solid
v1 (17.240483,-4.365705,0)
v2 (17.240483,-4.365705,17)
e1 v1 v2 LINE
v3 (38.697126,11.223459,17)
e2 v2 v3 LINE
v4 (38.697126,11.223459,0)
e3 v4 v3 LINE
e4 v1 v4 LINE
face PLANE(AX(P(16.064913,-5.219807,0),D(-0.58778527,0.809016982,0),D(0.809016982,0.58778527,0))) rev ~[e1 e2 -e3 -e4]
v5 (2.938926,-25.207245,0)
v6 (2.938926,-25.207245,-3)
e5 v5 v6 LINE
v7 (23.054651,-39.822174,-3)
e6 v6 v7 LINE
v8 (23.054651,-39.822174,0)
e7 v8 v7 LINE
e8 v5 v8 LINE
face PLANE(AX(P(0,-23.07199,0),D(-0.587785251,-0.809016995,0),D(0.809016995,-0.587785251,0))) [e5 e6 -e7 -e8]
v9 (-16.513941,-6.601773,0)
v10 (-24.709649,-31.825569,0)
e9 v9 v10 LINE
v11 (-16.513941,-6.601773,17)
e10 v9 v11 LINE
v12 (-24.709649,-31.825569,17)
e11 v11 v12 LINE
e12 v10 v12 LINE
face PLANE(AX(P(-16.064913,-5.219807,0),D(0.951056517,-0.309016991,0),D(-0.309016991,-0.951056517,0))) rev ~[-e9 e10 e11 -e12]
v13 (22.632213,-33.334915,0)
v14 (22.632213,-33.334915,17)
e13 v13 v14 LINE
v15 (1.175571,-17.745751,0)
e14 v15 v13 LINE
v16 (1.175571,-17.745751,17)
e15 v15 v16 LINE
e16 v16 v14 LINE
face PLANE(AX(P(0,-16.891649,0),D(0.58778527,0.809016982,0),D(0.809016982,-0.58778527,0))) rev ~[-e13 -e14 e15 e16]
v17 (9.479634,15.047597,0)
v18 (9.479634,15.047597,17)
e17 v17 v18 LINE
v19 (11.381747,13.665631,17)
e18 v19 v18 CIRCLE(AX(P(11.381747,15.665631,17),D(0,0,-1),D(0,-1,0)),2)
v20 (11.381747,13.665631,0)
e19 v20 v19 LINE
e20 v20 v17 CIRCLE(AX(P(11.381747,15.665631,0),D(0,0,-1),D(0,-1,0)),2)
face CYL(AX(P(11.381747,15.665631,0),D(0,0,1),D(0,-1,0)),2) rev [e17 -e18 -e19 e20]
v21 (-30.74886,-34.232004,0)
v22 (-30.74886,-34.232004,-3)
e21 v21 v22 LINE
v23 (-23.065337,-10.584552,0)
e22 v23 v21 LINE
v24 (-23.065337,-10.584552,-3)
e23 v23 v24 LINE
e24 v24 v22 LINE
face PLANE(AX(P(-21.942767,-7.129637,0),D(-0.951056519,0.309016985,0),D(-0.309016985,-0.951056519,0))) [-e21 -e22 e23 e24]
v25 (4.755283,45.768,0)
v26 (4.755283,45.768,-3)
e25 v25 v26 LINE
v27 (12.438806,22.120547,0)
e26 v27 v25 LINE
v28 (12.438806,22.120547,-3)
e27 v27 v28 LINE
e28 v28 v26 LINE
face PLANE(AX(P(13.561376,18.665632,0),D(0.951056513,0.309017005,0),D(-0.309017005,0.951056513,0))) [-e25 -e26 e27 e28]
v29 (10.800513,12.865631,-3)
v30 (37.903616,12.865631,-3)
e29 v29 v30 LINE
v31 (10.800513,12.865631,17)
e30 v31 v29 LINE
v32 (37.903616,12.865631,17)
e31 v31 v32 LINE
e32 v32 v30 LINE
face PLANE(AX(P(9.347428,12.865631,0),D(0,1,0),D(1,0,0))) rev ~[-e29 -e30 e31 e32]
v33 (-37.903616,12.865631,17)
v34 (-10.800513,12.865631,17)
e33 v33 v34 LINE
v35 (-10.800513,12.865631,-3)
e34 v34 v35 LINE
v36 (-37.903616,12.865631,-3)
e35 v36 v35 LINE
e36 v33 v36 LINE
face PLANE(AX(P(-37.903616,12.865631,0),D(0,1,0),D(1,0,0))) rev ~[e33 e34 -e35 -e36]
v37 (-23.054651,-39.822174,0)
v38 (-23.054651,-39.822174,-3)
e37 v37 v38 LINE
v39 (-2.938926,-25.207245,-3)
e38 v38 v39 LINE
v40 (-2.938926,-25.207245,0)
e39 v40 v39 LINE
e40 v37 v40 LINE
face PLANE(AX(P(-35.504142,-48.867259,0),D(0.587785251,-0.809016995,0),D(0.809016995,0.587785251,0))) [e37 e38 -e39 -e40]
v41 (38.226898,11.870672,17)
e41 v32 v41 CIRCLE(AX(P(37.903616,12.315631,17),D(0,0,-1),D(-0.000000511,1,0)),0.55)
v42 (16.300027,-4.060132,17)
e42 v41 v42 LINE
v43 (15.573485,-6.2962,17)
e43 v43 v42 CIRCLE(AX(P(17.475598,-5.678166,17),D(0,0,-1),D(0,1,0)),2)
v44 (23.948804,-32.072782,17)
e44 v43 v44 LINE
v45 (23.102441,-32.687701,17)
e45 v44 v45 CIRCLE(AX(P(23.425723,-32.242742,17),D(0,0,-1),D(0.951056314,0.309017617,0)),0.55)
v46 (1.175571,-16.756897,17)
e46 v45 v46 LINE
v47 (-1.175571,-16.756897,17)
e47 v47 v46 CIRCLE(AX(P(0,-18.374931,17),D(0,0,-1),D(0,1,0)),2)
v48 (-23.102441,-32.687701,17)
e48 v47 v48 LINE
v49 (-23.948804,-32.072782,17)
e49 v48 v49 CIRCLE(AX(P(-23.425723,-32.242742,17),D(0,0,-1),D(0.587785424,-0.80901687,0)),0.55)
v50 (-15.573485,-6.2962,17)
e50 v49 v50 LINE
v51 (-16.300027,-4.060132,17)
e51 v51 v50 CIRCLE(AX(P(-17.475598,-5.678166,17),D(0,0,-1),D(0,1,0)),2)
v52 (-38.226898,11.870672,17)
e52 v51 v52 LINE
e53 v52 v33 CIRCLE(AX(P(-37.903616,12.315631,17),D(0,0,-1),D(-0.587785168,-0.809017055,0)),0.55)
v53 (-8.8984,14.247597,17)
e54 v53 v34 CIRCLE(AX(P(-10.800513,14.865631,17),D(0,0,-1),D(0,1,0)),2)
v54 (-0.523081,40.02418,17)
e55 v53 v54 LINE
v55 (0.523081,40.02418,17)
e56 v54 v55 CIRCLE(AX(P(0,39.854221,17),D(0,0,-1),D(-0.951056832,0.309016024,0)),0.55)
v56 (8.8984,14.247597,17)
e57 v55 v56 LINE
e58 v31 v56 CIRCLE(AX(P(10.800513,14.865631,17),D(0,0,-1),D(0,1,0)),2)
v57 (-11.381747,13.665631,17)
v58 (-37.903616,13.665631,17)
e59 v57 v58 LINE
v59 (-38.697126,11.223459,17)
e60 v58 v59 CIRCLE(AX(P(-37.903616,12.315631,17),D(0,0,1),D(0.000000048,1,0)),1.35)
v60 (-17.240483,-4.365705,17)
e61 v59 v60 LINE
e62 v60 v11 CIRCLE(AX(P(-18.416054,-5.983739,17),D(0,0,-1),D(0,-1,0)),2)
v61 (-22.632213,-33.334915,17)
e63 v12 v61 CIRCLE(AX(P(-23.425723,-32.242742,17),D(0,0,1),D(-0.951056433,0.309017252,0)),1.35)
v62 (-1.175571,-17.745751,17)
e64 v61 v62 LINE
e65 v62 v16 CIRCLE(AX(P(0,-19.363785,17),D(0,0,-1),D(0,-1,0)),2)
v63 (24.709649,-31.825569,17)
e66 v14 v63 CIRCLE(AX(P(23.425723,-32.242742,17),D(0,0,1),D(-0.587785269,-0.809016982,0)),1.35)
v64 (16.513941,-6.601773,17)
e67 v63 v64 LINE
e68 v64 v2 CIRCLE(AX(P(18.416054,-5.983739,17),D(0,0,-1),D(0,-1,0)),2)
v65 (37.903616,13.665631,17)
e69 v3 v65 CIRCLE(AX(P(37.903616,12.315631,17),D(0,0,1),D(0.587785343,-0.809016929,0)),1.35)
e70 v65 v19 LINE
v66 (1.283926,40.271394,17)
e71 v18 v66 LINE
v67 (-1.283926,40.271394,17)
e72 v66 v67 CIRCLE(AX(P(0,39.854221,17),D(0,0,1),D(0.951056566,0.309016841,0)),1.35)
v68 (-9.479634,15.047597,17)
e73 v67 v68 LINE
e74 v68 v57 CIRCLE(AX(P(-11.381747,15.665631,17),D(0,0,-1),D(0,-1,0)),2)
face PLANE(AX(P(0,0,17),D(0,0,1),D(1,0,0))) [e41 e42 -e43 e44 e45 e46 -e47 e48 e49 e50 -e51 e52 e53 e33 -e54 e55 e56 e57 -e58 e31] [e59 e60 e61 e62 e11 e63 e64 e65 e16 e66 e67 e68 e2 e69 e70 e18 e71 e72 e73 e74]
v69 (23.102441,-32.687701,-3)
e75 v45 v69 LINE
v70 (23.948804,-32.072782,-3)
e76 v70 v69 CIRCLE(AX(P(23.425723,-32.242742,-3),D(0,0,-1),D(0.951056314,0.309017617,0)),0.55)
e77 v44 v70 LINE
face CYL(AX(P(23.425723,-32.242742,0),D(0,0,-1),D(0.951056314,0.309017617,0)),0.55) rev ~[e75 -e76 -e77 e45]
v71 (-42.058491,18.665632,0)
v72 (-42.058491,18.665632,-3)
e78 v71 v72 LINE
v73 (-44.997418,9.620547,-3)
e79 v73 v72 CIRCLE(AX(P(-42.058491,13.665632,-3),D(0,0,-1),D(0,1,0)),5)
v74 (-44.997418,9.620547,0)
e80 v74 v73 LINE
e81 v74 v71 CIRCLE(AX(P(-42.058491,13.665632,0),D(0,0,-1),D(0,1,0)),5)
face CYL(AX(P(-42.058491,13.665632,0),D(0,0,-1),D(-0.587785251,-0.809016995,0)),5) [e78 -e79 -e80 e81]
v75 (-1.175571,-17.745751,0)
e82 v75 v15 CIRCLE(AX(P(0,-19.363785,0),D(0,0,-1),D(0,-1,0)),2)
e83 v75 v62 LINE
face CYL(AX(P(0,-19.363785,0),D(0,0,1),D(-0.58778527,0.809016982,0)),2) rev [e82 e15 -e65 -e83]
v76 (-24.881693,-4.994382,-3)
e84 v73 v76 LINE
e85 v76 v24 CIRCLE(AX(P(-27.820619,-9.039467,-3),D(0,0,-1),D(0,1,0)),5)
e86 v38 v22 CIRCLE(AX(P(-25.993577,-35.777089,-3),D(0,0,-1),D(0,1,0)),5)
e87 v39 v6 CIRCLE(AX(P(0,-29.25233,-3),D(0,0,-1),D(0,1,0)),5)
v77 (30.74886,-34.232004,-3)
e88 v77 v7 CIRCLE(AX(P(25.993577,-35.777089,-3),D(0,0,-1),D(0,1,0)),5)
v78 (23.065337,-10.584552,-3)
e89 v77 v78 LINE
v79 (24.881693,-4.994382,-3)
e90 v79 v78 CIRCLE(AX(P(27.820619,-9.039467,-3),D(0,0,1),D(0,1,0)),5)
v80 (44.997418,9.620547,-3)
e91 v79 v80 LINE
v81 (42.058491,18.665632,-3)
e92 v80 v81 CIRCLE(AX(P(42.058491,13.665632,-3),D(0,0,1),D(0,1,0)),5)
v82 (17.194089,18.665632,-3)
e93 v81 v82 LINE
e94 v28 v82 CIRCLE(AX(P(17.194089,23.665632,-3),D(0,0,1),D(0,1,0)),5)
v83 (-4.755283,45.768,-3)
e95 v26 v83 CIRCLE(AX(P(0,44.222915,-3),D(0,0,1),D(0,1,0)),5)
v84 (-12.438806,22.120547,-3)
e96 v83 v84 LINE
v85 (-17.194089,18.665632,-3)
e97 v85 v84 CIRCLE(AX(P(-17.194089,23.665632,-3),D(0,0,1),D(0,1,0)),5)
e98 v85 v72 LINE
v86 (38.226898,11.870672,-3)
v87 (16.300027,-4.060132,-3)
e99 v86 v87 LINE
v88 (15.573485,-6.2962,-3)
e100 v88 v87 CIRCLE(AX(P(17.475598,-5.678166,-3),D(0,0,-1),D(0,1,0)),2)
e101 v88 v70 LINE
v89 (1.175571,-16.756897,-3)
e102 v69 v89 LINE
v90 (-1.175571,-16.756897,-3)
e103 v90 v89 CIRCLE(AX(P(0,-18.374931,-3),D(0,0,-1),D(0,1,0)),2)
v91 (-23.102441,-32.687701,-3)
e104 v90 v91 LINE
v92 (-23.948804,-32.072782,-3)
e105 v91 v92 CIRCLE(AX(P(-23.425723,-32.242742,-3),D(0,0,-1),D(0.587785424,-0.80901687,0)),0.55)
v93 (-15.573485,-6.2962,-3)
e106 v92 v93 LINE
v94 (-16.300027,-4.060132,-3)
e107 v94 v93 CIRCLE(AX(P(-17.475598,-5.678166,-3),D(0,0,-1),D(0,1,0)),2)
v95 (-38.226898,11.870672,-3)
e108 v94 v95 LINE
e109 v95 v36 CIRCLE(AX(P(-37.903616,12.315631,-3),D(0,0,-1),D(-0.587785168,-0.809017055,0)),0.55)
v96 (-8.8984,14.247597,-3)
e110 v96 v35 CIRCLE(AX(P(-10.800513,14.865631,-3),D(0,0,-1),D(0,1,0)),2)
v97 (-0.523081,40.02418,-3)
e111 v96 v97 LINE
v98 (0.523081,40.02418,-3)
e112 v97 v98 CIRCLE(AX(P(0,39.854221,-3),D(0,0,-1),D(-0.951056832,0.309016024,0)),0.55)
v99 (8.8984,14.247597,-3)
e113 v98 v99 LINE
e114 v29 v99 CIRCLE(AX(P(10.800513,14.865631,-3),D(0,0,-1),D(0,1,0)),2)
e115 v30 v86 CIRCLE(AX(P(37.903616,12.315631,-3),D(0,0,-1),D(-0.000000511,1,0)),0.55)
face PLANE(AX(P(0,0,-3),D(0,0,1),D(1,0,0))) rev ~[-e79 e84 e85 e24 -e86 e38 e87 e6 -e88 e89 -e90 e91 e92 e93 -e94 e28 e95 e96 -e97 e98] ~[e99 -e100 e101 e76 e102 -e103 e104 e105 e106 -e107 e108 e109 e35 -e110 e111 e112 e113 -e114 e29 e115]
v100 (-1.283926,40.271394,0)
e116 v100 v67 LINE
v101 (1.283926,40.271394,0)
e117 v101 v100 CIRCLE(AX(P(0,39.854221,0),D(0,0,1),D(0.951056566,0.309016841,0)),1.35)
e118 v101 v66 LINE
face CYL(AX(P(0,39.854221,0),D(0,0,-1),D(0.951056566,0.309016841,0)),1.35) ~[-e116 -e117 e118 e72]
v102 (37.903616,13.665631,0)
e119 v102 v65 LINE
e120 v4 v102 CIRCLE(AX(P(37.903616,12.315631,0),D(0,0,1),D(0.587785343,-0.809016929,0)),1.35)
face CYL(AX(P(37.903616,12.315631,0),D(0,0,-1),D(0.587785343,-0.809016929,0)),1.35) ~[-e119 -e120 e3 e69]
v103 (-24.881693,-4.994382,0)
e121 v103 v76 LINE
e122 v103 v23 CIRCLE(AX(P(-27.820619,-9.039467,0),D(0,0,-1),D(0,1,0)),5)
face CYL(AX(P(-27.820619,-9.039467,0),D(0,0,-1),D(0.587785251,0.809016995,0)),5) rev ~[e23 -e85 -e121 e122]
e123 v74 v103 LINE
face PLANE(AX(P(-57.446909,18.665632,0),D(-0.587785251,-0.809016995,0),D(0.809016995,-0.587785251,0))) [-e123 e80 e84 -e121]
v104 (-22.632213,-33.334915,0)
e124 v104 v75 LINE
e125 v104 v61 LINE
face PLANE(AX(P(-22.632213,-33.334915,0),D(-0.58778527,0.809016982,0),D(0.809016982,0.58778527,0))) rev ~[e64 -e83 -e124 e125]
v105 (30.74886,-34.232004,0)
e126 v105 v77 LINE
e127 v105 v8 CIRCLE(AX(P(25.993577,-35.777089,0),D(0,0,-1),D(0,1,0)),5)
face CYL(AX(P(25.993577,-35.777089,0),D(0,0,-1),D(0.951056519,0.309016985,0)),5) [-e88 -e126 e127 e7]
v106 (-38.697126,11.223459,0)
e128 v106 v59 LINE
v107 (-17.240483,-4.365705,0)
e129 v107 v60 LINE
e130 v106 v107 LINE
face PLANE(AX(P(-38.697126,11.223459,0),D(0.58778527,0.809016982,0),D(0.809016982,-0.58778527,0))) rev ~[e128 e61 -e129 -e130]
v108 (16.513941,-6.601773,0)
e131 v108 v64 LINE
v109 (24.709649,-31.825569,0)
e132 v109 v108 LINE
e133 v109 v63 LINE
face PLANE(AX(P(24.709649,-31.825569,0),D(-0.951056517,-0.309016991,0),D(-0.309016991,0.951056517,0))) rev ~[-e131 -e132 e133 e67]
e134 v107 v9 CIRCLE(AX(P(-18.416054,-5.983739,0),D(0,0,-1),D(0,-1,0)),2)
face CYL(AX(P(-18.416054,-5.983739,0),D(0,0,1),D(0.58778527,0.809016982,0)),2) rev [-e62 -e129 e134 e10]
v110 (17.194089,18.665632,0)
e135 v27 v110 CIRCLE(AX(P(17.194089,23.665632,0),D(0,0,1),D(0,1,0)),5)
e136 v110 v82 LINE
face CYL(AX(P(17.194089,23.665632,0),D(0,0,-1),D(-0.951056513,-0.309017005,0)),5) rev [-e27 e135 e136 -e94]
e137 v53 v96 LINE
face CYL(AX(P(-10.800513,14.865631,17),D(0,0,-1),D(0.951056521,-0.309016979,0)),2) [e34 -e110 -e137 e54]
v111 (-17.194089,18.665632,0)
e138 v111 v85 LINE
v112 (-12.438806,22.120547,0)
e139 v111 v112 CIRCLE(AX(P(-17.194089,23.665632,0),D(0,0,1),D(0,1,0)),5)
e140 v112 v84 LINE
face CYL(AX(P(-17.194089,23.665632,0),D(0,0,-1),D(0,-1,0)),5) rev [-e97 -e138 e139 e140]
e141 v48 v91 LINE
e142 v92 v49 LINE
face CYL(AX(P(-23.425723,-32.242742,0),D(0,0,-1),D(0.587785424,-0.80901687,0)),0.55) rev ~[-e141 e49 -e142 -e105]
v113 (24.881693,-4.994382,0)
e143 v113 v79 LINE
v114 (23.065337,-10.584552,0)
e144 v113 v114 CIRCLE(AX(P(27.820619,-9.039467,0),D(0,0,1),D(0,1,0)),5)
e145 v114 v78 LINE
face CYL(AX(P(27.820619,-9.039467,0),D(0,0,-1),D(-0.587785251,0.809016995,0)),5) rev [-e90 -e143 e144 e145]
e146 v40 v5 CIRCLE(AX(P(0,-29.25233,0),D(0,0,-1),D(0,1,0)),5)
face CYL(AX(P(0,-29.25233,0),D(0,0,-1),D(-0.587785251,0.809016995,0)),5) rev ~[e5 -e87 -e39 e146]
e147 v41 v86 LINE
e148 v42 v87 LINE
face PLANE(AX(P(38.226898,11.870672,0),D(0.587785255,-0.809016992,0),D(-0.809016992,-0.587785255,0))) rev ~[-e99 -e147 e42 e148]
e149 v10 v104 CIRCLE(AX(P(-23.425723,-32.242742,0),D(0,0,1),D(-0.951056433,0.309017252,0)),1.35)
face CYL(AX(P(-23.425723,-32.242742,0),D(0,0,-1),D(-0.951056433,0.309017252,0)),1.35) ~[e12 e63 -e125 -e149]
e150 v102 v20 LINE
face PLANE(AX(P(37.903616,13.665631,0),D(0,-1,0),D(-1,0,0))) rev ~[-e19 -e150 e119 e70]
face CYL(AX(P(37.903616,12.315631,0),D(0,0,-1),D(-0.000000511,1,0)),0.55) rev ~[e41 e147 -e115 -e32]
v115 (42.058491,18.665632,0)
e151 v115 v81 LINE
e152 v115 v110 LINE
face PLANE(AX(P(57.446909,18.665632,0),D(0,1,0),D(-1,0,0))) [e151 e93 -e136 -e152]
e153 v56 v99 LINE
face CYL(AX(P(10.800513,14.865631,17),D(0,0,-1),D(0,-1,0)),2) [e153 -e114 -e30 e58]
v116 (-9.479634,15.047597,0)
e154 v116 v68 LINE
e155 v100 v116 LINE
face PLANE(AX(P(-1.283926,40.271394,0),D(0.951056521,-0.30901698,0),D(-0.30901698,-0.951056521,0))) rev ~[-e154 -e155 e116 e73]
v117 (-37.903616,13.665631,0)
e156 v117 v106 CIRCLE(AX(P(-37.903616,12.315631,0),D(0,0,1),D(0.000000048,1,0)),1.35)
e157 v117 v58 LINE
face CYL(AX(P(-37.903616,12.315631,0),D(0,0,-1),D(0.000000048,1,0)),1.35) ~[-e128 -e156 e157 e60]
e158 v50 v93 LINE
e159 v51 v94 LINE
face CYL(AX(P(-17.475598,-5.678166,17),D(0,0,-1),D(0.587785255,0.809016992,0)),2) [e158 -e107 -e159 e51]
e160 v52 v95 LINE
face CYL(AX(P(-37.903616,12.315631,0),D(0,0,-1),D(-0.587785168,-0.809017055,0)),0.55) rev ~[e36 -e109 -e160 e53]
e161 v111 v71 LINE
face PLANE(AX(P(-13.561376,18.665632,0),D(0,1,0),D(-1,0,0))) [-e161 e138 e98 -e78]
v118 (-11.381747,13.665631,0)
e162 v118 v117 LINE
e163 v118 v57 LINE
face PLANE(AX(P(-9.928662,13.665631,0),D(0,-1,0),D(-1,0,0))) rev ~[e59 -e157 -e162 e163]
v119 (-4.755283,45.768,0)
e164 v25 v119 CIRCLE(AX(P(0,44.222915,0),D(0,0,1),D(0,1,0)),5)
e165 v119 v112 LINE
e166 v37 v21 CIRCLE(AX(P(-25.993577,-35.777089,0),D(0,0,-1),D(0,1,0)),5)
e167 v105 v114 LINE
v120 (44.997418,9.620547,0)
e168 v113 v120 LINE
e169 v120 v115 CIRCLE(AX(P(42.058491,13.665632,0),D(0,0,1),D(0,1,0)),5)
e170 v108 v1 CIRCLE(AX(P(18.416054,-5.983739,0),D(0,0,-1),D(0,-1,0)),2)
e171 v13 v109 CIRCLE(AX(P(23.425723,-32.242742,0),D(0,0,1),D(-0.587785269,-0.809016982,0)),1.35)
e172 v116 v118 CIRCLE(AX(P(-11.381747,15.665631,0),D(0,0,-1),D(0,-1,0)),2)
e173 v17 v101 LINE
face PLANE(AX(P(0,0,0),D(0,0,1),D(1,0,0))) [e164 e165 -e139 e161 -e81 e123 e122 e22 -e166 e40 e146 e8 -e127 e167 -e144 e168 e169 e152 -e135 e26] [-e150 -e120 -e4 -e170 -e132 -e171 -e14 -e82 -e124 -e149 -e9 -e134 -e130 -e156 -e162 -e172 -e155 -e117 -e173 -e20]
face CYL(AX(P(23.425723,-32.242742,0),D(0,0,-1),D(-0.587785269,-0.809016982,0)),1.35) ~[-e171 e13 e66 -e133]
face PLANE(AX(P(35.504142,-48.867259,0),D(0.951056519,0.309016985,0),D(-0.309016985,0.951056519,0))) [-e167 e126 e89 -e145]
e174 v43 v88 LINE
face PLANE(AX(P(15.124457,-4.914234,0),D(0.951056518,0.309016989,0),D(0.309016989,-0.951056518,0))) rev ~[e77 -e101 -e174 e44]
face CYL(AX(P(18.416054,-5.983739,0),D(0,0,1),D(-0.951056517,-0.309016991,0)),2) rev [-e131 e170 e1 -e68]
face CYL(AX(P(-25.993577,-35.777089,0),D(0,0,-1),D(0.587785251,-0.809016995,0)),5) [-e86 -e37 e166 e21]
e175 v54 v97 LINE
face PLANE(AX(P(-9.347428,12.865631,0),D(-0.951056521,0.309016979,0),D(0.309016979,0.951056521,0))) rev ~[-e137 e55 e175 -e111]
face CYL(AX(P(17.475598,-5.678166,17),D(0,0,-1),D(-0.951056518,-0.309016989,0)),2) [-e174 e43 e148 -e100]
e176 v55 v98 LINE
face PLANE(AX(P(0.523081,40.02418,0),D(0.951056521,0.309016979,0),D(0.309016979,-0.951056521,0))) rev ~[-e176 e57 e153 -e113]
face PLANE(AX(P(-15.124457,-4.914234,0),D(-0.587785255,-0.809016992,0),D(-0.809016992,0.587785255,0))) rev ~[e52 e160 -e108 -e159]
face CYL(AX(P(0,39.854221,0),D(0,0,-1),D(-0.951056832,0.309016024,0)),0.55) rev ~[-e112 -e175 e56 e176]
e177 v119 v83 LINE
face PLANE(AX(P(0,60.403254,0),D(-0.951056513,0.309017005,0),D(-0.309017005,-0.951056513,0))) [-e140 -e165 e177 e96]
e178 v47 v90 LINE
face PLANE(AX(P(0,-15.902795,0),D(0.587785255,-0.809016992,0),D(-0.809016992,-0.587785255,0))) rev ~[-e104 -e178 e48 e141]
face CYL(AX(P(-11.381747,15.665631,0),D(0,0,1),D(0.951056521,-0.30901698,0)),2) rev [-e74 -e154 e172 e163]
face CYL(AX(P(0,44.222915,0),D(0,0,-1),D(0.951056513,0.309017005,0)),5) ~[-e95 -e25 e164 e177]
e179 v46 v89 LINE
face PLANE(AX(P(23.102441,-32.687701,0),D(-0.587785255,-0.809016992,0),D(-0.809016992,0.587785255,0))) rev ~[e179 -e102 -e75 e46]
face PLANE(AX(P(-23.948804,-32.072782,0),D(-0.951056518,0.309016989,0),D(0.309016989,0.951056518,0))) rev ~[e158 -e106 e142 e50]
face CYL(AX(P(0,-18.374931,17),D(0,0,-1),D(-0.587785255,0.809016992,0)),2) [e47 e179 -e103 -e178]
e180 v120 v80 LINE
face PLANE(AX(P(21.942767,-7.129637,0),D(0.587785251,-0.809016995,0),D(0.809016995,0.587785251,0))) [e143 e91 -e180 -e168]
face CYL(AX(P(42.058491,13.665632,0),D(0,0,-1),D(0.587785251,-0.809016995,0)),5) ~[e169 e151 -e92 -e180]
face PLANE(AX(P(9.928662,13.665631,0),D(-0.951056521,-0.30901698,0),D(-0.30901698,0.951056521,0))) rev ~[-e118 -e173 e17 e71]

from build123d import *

# Parameters (mm, degrees)
F1_DEPTH = 3
F2_DEPTH = 17
F3_R     = 5
F4_R     = 5
F5_R     = 2


with BuildPart() as f1:
    # F0 (on Top) → F1 (new body)
    with BuildSketch(Plane.XY):
        Polygon((-13.561376, 18.665632), (-57.446909, 18.665632), (-21.942767, -7.129637), (-35.504142, -48.867259), (0, -23.07199), (35.504142, -48.867259), (21.942767, -7.129637), (57.446909, 18.665632), (13.561376, 18.665632), (0, 60.403254), align=None)
        with BuildLine():
            Line((-37.903616, 13.665631), (-9.928662, 13.665631))
            Line((-9.928662, 13.665631), (-1.283926, 40.271394))
            ThreePointArc((-1.283926, 40.271394), (0, 41.204221), (1.283926, 40.271394))
            Line((1.283926, 40.271394), (9.928662, 13.665631))
            Line((9.928662, 13.665631), (37.903616, 13.665631))
            ThreePointArc((37.903616, 13.665631), (39.187542, 12.732804), (38.697126, 11.223459))
            Line((38.697126, 11.223459), (16.064913, -5.219807))
            Line((16.064913, -5.219807), (24.709649, -31.825569))
            ThreePointArc((24.709649, -31.825569), (24.219233, -33.334915), (22.632213, -33.334915))
            Line((22.632213, -33.334915), (0, -16.891649))
            Line((0, -16.891649), (-22.632213, -33.334915))
            ThreePointArc((-22.632213, -33.334915), (-24.219233, -33.334915), (-24.709649, -31.825569))
            Line((-24.709649, -31.825569), (-16.064913, -5.219807))
            Line((-16.064913, -5.219807), (-38.697126, 11.223459))
            ThreePointArc((-38.697126, 11.223459), (-39.187542, 12.732804), (-37.903616, 13.665631))
        make_face(mode=Mode.SUBTRACT)
        with BuildLine():
            Line((-1.283926, 40.271394), (-9.928662, 13.665631))
            Line((-9.928662, 13.665631), (-37.903616, 13.665631))
            ThreePointArc((-37.903616, 13.665631), (-39.187542, 12.732804), (-38.697126, 11.223459))
            Line((-38.697126, 11.223459), (-16.064913, -5.219807))
            Line((-16.064913, -5.219807), (-24.709649, -31.825569))
            ThreePointArc((-24.709649, -31.825569), (-24.219233, -33.334915), (-22.632213, -33.334915))
            Line((-22.632213, -33.334915), (0, -16.891649))
            Line((0, -16.891649), (22.632213, -33.334915))
            ThreePointArc((22.632213, -33.334915), (24.219233, -33.334915), (24.709649, -31.825569))
            Line((24.709649, -31.825569), (16.064913, -5.219807))
            Line((16.064913, -5.219807), (38.697126, 11.223459))
            ThreePointArc((38.697126, 11.223459), (39.187542, 12.732804), (37.903616, 13.665631))
            Line((37.903616, 13.665631), (9.928662, 13.665631))
            Line((9.928662, 13.665631), (1.283926, 40.271394))
            ThreePointArc((1.283926, 40.271394), (0, 41.204221), (-1.283926, 40.271394))
        make_face()
        with BuildLine():
            Line((-23.948804, -32.072782), (-15.124457, -4.914234))
            Line((-15.124457, -4.914234), (-38.226898, 11.870672))
            ThreePointArc((-38.226898, 11.870672), (-38.426697, 12.485591), (-37.903616, 12.865631))
            Line((-37.903616, 12.865631), (-9.347428, 12.865631))
            Line((-9.347428, 12.865631), (-0.523081, 40.02418))
            ThreePointArc((-0.523081, 40.02418), (0, 40.404221), (0.523081, 40.02418))
            Line((0.523081, 40.02418), (9.347428, 12.865631))
            Line((9.347428, 12.865631), (37.903616, 12.865631))
            ThreePointArc((37.903616, 12.865631), (38.426697, 12.485591), (38.226898, 11.870672))
            Line((38.226898, 11.870672), (15.124457, -4.914234))
            Line((15.124457, -4.914234), (23.948804, -32.072782))
            ThreePointArc((23.948804, -32.072782), (23.749005, -32.687701), (23.102441, -32.687701))
            Line((23.102441, -32.687701), (0, -15.902795))
            Line((0, -15.902795), (-23.102441, -32.687701))
            ThreePointArc((-23.102441, -32.687701), (-23.749005, -32.687701), (-23.948804, -32.072782))
        make_face(mode=Mode.SUBTRACT)
    extrude(amount=-F1_DEPTH)

    # F0 (on Top) → F2 (join)
    with BuildSketch(Plane.XY):
        with BuildLine():
            Line((-1.283926, 40.271394), (-9.928662, 13.665631))
            Line((-9.928662, 13.665631), (-37.903616, 13.665631))
            ThreePointArc((-37.903616, 13.665631), (-39.187542, 12.732804), (-38.697126, 11.223459))
            Line((-38.697126, 11.223459), (-16.064913, -5.219807))
            Line((-16.064913, -5.219807), (-24.709649, -31.825569))
            ThreePointArc((-24.709649, -31.825569), (-24.219233, -33.334915), (-22.632213, -33.334915))
            Line((-22.632213, -33.334915), (0, -16.891649))
            Line((0, -16.891649), (22.632213, -33.334915))
            ThreePointArc((22.632213, -33.334915), (24.219233, -33.334915), (24.709649, -31.825569))
            Line((24.709649, -31.825569), (16.064913, -5.219807))
            Line((16.064913, -5.219807), (38.697126, 11.223459))
            ThreePointArc((38.697126, 11.223459), (39.187542, 12.732804), (37.903616, 13.665631))
            Line((37.903616, 13.665631), (9.928662, 13.665631))
            Line((9.928662, 13.665631), (1.283926, 40.271394))
            ThreePointArc((1.283926, 40.271394), (0, 41.204221), (-1.283926, 40.271394))
        make_face()
        with BuildLine():
            Line((-23.948804, -32.072782), (-15.124457, -4.914234))
            Line((-15.124457, -4.914234), (-38.226898, 11.870672))
            ThreePointArc((-38.226898, 11.870672), (-38.426697, 12.485591), (-37.903616, 12.865631))
            Line((-37.903616, 12.865631), (-9.347428, 12.865631))
            Line((-9.347428, 12.865631), (-0.523081, 40.02418))
            ThreePointArc((-0.523081, 40.02418), (0, 40.404221), (0.523081, 40.02418))
            Line((0.523081, 40.02418), (9.347428, 12.865631))
            Line((9.347428, 12.865631), (37.903616, 12.865631))
            ThreePointArc((37.903616, 12.865631), (38.426697, 12.485591), (38.226898, 11.870672))
            Line((38.226898, 11.870672), (15.124457, -4.914234))
            Line((15.124457, -4.914234), (23.948804, -32.072782))
            ThreePointArc((23.948804, -32.072782), (23.749005, -32.687701), (23.102441, -32.687701))
            Line((23.102441, -32.687701), (0, -15.902795))
            Line((0, -15.902795), (-23.102441, -32.687701))
            ThreePointArc((-23.102441, -32.687701), (-23.749005, -32.687701), (-23.948804, -32.072782))
        make_face(mode=Mode.SUBTRACT)
    extrude(amount=F2_DEPTH)

    # F3
    f3_edges = [f1.edges().sort_by_distance(p)[0] for p in [
        (-35.504142, -48.867259, -1.5),
        (-57.446909, 18.665632, -1.5),
        (35.504142, -48.867259, -1.5),
        (0, 60.403254, -1.5),
        (57.446909, 18.665632, -1.5),
    ]]
    fillet(f3_edges, radius=F3_R)

    # F4
    f4_edges = [f1.edges().sort_by_distance(p)[0] for p in [
        (-21.942767, -7.129637, -1.5),
        (-13.561376, 18.665632, -1.5),
        (13.561376, 18.665632, -1.5),
        (21.942767, -7.129637, -1.5),
        (0, -23.07199, -1.5),
    ]]
    fillet(f4_edges, radius=F4_R)

    # F5
    f5_edges = [f1.edges().sort_by_distance(p)[0] for p in [
        (-9.347428, 12.865631, 7),
        (-9.928662, 13.665631, 8.5),
        (9.928662, 13.665631, 8.5),
        (9.347428, 12.865631, 7),
        (16.064913, -5.219807, 8.5),
        (15.124457, -4.914234, 7),
        (-15.124457, -4.914234, 7),
        (-16.064913, -5.219807, 8.5),
        (0, -15.902795, 7),
        (0, -16.891649, 8.5),
    ]]
    fillet(f5_edges, radius=F5_R)


solid = f1.part
